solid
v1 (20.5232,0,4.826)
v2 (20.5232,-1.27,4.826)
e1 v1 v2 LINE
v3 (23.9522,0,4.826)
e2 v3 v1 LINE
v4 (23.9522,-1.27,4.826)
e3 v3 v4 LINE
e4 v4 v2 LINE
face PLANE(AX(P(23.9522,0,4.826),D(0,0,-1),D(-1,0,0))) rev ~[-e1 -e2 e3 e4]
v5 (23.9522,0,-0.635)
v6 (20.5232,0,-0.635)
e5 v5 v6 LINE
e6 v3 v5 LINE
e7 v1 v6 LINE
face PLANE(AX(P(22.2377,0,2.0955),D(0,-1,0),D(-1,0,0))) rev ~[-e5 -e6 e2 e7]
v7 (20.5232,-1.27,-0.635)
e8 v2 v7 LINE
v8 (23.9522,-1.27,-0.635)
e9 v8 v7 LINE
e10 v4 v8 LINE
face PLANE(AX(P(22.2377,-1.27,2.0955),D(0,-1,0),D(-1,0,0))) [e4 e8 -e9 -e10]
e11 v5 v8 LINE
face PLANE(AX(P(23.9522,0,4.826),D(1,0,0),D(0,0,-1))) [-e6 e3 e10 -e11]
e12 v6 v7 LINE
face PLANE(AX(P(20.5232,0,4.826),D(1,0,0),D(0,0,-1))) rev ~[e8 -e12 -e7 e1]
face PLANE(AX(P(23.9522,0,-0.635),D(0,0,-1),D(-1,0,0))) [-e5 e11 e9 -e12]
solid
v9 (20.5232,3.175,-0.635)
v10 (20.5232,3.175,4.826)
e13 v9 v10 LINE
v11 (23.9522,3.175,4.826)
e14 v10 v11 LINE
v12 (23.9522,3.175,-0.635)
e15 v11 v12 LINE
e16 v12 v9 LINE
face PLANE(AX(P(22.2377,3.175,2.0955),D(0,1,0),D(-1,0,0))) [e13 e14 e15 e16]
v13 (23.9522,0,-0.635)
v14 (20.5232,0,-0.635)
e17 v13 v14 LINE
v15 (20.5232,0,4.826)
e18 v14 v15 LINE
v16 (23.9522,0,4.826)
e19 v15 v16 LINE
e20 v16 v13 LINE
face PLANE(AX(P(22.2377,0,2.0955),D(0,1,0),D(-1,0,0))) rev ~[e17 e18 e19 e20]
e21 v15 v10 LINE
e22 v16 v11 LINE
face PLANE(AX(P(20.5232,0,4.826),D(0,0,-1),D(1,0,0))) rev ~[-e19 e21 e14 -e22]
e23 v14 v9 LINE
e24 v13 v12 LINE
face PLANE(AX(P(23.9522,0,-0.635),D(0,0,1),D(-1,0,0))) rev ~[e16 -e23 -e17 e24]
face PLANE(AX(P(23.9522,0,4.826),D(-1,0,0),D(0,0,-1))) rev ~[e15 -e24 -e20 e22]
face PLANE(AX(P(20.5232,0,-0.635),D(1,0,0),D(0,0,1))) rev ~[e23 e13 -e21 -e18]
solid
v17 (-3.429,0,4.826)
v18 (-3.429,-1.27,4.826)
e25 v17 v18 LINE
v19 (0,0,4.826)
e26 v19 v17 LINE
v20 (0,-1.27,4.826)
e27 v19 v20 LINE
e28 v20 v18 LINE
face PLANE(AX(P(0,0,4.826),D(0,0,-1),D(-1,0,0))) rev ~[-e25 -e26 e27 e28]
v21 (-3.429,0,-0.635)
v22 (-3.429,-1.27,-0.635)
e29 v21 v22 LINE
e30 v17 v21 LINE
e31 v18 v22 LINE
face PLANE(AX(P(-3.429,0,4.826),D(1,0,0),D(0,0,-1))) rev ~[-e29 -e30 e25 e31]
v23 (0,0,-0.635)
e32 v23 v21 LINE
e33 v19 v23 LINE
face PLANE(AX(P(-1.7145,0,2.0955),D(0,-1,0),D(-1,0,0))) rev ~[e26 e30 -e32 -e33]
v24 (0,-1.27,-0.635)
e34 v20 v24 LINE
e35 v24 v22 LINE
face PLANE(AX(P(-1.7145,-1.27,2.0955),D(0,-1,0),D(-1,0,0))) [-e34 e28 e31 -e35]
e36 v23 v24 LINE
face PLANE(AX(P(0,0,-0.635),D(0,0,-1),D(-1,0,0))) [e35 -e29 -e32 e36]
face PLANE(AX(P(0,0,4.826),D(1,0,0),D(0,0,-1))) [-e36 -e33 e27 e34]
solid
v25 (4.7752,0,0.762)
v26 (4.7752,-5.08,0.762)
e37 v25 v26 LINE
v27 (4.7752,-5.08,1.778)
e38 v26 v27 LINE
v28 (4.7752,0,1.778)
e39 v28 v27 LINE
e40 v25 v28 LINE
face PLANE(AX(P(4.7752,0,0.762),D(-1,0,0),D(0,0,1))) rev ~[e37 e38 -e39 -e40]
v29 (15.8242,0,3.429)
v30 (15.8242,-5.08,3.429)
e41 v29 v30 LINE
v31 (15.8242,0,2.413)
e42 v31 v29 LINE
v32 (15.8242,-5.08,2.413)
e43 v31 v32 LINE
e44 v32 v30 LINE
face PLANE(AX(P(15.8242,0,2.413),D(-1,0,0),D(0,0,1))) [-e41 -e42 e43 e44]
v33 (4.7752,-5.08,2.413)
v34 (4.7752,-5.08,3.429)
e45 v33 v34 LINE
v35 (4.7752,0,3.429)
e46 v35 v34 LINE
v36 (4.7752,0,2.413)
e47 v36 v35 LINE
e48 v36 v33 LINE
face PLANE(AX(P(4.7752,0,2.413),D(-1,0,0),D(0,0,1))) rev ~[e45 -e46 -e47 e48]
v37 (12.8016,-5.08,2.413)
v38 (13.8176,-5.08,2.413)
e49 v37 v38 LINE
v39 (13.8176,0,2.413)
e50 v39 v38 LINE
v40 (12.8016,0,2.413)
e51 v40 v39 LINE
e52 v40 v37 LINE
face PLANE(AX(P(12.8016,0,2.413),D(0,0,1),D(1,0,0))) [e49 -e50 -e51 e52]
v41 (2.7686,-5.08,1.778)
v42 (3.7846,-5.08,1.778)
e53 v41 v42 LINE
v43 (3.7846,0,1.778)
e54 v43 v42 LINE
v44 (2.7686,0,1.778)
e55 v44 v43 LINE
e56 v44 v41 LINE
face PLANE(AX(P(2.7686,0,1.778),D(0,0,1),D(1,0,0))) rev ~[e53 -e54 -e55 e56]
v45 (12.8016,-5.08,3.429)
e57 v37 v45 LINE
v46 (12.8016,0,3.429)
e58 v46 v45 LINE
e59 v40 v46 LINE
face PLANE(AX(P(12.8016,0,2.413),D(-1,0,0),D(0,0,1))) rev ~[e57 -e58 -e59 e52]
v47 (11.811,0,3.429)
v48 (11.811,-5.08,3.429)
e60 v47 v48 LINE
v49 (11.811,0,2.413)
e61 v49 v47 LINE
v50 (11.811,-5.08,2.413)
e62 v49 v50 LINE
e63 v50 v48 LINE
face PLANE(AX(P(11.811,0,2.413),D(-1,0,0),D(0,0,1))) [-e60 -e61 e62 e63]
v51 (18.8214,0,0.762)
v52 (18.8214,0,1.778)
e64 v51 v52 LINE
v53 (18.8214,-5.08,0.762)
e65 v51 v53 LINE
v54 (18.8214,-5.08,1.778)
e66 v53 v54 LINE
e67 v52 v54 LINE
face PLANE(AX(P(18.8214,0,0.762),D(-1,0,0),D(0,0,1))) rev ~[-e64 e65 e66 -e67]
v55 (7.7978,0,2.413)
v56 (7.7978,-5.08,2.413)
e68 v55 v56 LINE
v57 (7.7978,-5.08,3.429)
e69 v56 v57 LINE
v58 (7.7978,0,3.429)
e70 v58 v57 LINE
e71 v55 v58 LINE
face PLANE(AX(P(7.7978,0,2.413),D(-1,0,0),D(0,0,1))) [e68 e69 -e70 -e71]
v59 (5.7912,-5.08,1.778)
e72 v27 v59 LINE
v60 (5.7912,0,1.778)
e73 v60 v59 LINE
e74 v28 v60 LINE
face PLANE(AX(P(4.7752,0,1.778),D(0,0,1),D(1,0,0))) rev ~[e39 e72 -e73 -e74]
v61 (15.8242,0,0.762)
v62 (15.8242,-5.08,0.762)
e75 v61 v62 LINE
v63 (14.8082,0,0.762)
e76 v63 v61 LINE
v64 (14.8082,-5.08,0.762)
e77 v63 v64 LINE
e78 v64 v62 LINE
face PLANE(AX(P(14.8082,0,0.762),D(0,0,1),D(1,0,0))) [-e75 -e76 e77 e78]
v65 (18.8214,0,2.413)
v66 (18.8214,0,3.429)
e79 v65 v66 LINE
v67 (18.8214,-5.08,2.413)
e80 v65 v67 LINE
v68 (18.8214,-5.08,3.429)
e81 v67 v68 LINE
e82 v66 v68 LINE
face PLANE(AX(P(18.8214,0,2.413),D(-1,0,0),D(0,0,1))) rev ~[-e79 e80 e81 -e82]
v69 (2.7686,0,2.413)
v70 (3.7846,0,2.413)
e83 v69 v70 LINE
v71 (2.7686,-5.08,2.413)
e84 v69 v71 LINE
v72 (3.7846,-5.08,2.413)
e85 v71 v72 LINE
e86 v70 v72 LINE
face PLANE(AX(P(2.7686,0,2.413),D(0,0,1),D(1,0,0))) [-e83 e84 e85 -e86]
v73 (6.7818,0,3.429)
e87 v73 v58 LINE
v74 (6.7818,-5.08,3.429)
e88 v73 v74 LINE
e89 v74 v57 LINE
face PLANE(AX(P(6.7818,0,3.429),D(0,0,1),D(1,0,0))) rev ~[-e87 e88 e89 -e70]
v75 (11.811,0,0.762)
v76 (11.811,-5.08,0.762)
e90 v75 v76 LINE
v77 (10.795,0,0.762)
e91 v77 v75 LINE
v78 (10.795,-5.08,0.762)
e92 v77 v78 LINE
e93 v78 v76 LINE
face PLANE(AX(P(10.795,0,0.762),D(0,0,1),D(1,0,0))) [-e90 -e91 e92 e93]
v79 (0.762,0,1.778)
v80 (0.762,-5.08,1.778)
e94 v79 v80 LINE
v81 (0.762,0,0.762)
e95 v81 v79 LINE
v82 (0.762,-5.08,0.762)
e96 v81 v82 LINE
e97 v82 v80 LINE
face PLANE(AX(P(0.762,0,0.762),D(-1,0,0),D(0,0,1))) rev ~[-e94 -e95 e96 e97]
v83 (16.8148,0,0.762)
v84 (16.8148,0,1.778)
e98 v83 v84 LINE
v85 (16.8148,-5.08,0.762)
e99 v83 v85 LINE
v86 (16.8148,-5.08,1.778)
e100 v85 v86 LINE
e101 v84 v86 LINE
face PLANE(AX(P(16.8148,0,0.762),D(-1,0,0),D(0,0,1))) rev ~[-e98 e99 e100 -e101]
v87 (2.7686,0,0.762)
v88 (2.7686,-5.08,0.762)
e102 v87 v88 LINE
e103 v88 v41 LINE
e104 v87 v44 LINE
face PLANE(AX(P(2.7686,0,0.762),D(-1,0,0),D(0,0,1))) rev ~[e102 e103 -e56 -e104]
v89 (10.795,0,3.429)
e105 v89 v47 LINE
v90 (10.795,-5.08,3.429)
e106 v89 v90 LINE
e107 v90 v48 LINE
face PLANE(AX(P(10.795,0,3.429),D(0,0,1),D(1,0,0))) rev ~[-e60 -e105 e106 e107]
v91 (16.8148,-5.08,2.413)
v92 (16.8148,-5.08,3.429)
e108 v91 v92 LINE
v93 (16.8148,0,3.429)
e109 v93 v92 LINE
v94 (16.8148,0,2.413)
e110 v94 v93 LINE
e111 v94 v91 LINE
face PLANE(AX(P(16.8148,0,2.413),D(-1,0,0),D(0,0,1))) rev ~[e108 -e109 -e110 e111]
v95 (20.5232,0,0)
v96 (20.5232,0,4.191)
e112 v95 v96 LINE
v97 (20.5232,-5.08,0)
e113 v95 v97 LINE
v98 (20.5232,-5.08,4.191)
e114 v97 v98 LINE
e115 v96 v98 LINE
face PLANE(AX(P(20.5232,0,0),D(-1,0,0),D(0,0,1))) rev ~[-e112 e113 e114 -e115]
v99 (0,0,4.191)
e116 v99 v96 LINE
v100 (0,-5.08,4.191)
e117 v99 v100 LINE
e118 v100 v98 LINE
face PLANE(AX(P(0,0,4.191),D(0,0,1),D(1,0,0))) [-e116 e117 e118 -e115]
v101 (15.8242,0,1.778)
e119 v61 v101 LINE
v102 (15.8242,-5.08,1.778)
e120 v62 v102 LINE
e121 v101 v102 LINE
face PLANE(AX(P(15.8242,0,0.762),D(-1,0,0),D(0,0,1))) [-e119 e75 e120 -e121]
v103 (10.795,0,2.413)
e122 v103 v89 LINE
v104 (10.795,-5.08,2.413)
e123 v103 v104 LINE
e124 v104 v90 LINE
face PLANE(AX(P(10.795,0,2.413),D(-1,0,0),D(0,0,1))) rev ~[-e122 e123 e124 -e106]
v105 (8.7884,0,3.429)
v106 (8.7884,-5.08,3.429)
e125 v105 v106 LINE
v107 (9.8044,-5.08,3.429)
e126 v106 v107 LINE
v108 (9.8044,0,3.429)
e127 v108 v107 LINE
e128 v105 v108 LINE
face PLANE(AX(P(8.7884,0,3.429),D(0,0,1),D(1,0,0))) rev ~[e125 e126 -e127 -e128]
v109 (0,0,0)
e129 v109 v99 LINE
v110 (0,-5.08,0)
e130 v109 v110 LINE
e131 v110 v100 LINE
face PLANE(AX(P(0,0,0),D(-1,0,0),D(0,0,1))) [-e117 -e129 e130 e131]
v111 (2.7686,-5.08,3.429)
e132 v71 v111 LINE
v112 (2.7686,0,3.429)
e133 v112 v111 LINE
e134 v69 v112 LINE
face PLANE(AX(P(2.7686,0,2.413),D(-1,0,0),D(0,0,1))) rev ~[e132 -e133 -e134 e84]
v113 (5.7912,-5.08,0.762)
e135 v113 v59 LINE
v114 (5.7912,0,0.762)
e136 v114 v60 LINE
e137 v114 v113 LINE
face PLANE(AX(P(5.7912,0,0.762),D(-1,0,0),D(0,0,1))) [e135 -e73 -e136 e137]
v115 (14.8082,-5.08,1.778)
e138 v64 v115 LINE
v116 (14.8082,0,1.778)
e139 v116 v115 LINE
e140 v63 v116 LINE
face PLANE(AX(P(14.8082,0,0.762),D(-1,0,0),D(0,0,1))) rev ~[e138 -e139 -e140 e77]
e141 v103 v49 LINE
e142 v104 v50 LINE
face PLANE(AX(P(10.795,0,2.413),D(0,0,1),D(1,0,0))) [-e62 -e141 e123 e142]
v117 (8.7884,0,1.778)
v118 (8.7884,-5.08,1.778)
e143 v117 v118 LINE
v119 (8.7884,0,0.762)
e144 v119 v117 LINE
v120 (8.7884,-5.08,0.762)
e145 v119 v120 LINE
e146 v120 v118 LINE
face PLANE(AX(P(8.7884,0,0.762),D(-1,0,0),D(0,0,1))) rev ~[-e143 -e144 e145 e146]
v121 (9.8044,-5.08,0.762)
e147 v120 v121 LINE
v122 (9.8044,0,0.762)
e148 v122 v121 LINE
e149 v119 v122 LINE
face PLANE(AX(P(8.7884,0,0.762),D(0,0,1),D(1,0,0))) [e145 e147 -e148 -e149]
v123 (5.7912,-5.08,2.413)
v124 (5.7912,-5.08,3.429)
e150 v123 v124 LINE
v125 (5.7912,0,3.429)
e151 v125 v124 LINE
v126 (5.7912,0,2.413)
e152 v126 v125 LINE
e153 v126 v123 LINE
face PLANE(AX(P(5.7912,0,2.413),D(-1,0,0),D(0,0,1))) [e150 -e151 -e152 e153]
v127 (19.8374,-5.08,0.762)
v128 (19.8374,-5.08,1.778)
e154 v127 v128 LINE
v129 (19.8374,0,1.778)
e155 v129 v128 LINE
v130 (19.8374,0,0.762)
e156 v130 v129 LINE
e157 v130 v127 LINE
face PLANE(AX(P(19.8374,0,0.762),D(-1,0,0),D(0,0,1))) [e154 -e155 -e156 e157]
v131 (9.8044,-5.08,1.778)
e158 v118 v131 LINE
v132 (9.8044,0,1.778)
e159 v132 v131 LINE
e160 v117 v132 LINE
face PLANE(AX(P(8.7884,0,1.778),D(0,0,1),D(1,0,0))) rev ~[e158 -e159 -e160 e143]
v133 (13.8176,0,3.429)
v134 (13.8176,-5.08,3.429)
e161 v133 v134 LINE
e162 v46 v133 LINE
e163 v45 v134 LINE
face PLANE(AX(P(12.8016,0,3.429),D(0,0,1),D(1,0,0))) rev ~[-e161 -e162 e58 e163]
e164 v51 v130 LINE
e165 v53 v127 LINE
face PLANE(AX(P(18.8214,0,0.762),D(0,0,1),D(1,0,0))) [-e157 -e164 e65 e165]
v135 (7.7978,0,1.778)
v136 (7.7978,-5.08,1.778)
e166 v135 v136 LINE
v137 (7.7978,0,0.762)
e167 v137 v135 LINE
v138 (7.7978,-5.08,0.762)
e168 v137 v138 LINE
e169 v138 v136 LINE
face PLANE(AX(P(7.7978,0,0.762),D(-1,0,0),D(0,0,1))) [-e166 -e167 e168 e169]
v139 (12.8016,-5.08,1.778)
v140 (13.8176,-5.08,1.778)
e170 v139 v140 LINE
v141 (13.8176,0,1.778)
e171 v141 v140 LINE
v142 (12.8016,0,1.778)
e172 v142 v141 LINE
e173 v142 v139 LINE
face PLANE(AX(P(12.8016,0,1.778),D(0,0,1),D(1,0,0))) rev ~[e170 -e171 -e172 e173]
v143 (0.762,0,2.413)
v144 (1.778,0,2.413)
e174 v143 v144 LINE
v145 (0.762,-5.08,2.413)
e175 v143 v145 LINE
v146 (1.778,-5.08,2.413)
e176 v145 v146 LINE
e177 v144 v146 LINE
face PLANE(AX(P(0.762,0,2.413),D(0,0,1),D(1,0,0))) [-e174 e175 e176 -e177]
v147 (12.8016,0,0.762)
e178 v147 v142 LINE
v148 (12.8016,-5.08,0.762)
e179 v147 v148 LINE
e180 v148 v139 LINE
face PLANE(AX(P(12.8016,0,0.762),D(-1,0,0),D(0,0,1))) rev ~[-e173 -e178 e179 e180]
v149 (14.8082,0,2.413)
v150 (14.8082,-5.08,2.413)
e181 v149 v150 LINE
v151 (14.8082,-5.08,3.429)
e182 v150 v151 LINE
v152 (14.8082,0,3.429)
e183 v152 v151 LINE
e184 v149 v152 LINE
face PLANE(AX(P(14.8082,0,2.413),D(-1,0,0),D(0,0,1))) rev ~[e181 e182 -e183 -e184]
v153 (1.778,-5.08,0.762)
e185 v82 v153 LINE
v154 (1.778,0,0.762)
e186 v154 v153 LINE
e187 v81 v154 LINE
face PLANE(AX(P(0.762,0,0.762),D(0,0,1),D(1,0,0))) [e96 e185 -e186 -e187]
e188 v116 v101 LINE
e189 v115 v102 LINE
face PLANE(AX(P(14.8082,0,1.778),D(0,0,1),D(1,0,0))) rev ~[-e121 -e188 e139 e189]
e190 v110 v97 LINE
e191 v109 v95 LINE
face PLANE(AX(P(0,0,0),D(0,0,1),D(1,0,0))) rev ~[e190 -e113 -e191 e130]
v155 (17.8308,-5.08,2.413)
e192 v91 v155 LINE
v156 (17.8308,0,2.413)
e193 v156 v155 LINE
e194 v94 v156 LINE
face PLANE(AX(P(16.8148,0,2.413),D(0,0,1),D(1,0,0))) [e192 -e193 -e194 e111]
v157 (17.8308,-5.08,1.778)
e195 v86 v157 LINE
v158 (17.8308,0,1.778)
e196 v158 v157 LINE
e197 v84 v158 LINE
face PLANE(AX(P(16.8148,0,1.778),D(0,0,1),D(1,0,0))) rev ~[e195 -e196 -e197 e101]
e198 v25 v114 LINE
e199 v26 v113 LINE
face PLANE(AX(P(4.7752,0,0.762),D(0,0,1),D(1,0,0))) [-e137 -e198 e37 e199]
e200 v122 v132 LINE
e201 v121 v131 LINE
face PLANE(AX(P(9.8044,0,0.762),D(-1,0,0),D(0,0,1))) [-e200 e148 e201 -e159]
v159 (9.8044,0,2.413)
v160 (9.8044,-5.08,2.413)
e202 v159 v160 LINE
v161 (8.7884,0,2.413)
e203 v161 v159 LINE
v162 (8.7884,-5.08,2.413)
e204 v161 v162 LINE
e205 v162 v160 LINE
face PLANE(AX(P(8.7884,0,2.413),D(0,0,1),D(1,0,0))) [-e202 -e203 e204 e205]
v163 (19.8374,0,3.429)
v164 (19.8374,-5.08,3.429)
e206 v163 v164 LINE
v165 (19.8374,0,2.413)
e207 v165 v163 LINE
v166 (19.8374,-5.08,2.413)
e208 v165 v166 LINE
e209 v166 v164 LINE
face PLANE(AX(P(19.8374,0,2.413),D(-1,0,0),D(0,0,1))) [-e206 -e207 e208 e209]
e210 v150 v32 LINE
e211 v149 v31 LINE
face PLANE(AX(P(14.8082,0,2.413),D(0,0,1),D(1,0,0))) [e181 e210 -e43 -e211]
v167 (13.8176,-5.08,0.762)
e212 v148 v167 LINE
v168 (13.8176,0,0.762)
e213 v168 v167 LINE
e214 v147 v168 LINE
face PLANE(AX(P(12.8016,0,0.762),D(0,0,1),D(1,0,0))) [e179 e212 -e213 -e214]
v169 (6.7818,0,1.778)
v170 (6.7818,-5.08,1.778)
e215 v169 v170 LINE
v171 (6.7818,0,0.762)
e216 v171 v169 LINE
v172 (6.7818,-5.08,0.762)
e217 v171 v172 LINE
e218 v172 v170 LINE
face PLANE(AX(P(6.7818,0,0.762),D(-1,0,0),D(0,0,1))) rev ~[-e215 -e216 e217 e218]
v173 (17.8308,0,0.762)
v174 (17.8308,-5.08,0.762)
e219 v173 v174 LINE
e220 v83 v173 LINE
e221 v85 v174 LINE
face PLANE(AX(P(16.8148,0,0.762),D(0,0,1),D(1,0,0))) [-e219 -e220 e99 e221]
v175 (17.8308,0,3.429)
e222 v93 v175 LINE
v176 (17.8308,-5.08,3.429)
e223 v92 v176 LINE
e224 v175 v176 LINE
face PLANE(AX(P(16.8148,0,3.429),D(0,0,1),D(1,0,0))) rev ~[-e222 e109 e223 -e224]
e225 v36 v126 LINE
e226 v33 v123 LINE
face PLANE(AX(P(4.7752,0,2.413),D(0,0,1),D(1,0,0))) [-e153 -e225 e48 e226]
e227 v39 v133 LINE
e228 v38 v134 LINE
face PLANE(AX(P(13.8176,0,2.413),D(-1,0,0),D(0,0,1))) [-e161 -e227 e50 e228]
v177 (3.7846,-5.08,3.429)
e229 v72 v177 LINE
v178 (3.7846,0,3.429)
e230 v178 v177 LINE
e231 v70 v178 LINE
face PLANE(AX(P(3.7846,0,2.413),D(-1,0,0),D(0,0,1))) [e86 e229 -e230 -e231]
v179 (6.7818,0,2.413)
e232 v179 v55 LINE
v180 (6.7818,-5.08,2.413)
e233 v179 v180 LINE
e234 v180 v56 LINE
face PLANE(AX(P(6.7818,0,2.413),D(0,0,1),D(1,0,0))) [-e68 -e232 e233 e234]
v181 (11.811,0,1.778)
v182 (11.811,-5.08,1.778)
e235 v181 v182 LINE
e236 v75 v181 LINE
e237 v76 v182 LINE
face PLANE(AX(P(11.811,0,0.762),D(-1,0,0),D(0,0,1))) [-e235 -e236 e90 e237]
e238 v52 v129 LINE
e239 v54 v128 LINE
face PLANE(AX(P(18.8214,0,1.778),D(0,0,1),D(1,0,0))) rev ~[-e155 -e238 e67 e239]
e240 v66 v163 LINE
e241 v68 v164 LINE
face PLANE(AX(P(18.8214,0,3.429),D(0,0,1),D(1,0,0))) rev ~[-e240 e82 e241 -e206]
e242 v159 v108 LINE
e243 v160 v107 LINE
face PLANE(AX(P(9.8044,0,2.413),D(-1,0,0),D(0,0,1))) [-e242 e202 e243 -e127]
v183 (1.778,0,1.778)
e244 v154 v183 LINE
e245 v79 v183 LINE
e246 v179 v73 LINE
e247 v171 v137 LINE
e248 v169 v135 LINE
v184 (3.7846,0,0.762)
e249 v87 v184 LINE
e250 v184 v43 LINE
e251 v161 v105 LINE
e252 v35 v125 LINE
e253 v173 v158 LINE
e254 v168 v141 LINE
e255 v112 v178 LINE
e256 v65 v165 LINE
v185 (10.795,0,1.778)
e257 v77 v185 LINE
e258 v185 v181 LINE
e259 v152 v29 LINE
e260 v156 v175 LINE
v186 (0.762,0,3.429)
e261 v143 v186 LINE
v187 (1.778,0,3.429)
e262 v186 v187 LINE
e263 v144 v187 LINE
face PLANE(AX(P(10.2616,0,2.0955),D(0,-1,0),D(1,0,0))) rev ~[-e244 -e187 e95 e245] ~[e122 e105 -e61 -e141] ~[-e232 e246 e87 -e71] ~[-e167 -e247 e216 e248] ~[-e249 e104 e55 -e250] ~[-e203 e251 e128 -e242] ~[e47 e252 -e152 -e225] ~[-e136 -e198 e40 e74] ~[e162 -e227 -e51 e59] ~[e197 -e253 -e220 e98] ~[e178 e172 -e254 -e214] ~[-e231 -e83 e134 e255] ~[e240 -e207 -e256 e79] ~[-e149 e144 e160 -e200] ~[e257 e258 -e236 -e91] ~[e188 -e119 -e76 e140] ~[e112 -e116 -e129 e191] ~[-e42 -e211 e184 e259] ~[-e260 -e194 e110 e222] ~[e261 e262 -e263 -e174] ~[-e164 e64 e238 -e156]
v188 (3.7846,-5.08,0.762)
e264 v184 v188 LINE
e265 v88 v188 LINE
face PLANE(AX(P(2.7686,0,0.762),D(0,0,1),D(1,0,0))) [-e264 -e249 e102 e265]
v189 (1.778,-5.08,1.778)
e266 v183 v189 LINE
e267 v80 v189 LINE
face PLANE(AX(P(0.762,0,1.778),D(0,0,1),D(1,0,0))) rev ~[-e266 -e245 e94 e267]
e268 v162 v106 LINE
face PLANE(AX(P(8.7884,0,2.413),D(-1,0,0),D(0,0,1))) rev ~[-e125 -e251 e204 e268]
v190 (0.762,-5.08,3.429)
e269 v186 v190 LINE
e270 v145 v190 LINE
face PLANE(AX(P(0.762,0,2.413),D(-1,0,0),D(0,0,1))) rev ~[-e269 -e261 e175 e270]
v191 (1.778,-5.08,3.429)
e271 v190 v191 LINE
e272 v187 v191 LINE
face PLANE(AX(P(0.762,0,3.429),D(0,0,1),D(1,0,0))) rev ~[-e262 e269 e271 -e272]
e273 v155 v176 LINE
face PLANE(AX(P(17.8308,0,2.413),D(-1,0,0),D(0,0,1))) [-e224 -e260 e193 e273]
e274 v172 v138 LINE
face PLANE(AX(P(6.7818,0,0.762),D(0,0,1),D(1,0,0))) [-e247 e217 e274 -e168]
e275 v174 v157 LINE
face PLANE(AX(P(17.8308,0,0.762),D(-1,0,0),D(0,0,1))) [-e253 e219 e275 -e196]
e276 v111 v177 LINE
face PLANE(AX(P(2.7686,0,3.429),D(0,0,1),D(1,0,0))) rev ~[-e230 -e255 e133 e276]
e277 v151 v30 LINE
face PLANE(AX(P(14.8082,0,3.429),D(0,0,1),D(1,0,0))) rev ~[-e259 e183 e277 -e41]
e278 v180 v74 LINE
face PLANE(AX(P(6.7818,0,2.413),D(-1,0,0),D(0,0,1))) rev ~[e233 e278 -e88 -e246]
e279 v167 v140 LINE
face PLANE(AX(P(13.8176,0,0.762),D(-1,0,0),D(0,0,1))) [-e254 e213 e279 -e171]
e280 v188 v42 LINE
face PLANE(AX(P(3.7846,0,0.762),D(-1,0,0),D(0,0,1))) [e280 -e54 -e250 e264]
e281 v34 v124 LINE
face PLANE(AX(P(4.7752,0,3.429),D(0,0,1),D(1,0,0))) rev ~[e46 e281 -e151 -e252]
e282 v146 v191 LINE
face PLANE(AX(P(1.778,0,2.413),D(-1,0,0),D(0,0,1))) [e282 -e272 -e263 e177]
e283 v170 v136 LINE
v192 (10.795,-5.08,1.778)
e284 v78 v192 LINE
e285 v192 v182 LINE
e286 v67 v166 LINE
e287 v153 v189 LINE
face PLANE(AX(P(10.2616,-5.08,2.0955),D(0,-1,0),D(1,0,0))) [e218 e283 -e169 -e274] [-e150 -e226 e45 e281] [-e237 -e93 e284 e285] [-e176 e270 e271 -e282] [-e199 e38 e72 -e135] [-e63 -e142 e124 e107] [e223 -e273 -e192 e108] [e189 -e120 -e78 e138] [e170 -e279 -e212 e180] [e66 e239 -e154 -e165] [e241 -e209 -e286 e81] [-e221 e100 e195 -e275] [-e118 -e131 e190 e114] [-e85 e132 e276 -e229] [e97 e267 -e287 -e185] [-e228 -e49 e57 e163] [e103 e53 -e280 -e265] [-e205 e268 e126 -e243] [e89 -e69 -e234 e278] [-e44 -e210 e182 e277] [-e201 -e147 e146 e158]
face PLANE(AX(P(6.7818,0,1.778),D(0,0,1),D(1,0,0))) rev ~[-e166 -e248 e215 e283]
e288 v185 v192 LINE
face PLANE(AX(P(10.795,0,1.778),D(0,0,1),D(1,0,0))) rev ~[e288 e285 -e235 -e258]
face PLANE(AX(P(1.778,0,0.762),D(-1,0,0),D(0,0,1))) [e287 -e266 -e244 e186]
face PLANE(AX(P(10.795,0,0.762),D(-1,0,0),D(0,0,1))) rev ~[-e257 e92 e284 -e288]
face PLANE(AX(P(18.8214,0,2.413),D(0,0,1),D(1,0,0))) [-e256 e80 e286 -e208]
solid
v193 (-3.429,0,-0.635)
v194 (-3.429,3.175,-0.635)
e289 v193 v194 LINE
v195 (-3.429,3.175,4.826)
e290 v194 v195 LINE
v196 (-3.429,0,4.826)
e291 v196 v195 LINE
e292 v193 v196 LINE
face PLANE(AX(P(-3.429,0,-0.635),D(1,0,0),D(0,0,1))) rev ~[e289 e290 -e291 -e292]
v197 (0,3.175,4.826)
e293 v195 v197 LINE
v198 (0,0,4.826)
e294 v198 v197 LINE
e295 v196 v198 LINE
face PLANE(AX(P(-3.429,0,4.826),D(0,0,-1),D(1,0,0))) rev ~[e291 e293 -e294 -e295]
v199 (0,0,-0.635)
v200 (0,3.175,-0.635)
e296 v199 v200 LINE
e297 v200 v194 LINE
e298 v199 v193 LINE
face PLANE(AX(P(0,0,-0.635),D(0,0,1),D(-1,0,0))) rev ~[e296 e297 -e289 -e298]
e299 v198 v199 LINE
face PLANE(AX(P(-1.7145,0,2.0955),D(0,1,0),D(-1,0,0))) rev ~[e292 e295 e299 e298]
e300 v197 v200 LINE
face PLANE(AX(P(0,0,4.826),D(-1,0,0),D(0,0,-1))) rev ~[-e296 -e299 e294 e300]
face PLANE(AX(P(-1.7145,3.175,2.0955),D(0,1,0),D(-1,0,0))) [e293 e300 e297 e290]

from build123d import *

# Parameters (mm, degrees)
F0_W      = 20.5232
F0_H      = 4.191
F0_W_2    = 1.016
F0_H_2    = 1.016
F1_DEPTH  = 5.08
F3_DEPTH  = 3.175
F3_FACE_W = 3.429
F3_FACE_H = 5.461
F4_DEPTH  = 1.27


with BuildPart() as f1:
    # F0 (on Front) → F1 (new body)
    with BuildSketch(Plane.XZ):
        with Locations((10.2616, 2.0955)):
            Rectangle(F0_W, F0_H)
        with Locations((1.27, 1.27)):
            Rectangle(F0_W_2, F0_H_2, mode=Mode.SUBTRACT)
        with Locations((3.2766, 1.27)):
            Rectangle(F0_W_2, F0_H_2, mode=Mode.SUBTRACT)
        with Locations((5.2832, 1.27)):
            Rectangle(F0_W_2, F0_H_2, mode=Mode.SUBTRACT)
        with Locations((7.2898, 1.27)):
            Rectangle(F0_W_2, F0_H_2, mode=Mode.SUBTRACT)
        with Locations((9.2964, 1.27)):
            Rectangle(F0_W_2, F0_H_2, mode=Mode.SUBTRACT)
        with Locations((11.303, 1.27)):
            Rectangle(F0_W_2, F0_H_2, mode=Mode.SUBTRACT)
        with Locations((13.3096, 1.27)):
            Rectangle(F0_W_2, F0_H_2, mode=Mode.SUBTRACT)
        with Locations((15.3162, 1.27)):
            Rectangle(F0_W_2, F0_H_2, mode=Mode.SUBTRACT)
        with Locations((17.3228, 1.27)):
            Rectangle(F0_W_2, F0_H_2, mode=Mode.SUBTRACT)
        with Locations((19.3294, 1.27)):
            Rectangle(F0_W_2, F0_H_2, mode=Mode.SUBTRACT)
        with Locations((1.27, 2.921)):
            Rectangle(F0_W_2, F0_H_2, mode=Mode.SUBTRACT)
        with Locations((3.2766, 2.921)):
            Rectangle(F0_W_2, F0_H_2, mode=Mode.SUBTRACT)
        with Locations((5.2832, 2.921)):
            Rectangle(F0_W_2, F0_H_2, mode=Mode.SUBTRACT)
        with Locations((7.2898, 2.921)):
            Rectangle(F0_W_2, F0_H_2, mode=Mode.SUBTRACT)
        with Locations((9.2964, 2.921)):
            Rectangle(F0_W_2, F0_H_2, mode=Mode.SUBTRACT)
        with Locations((11.303, 2.921)):
            Rectangle(F0_W_2, F0_H_2, mode=Mode.SUBTRACT)
        with Locations((13.3096, 2.921)):
            Rectangle(F0_W_2, F0_H_2, mode=Mode.SUBTRACT)
        with Locations((15.3162, 2.921)):
            Rectangle(F0_W_2, F0_H_2, mode=Mode.SUBTRACT)
        with Locations((17.3228, 2.921)):
            Rectangle(F0_W_2, F0_H_2, mode=Mode.SUBTRACT)
        with Locations((19.3294, 2.921)):
            Rectangle(F0_W_2, F0_H_2, mode=Mode.SUBTRACT)
    extrude(amount=F1_DEPTH)


with BuildPart() as f3:
    # F2 (on face) → F3 (new body)
    with BuildSketch(Plane(origin=(0, 0, 0), x_dir=(-1, 0, 0), z_dir=(0, 1, 0))):
        Polygon((-20.5232, 4.826), (-23.9522, 4.826), (-23.9522, -0.635), (-20.5232, -0.635), (-20.5232, 0), (-20.5232, 4.191), align=None)
        Polygon((0, 4.826), (0, 4.191), (0, 0), (0, -0.635), (3.429, -0.635), (3.429, 4.826), align=None)
    extrude(amount=F3_DEPTH)


with BuildPart() as f4:
    # F3_face (on face) → F4 (new body)
    with BuildSketch(Plane(origin=(22.2377, 0, 2.0955), x_dir=(-1, 0, 0), z_dir=(0, -1, 0))):
        Rectangle(F3_FACE_W, F3_FACE_H)
        with Locations((23.9522, 0)):
            Rectangle(F3_FACE_W, F3_FACE_H)
    extrude(amount=F4_DEPTH)


solid = Compound([f1.part, f3.part, f4.part])
